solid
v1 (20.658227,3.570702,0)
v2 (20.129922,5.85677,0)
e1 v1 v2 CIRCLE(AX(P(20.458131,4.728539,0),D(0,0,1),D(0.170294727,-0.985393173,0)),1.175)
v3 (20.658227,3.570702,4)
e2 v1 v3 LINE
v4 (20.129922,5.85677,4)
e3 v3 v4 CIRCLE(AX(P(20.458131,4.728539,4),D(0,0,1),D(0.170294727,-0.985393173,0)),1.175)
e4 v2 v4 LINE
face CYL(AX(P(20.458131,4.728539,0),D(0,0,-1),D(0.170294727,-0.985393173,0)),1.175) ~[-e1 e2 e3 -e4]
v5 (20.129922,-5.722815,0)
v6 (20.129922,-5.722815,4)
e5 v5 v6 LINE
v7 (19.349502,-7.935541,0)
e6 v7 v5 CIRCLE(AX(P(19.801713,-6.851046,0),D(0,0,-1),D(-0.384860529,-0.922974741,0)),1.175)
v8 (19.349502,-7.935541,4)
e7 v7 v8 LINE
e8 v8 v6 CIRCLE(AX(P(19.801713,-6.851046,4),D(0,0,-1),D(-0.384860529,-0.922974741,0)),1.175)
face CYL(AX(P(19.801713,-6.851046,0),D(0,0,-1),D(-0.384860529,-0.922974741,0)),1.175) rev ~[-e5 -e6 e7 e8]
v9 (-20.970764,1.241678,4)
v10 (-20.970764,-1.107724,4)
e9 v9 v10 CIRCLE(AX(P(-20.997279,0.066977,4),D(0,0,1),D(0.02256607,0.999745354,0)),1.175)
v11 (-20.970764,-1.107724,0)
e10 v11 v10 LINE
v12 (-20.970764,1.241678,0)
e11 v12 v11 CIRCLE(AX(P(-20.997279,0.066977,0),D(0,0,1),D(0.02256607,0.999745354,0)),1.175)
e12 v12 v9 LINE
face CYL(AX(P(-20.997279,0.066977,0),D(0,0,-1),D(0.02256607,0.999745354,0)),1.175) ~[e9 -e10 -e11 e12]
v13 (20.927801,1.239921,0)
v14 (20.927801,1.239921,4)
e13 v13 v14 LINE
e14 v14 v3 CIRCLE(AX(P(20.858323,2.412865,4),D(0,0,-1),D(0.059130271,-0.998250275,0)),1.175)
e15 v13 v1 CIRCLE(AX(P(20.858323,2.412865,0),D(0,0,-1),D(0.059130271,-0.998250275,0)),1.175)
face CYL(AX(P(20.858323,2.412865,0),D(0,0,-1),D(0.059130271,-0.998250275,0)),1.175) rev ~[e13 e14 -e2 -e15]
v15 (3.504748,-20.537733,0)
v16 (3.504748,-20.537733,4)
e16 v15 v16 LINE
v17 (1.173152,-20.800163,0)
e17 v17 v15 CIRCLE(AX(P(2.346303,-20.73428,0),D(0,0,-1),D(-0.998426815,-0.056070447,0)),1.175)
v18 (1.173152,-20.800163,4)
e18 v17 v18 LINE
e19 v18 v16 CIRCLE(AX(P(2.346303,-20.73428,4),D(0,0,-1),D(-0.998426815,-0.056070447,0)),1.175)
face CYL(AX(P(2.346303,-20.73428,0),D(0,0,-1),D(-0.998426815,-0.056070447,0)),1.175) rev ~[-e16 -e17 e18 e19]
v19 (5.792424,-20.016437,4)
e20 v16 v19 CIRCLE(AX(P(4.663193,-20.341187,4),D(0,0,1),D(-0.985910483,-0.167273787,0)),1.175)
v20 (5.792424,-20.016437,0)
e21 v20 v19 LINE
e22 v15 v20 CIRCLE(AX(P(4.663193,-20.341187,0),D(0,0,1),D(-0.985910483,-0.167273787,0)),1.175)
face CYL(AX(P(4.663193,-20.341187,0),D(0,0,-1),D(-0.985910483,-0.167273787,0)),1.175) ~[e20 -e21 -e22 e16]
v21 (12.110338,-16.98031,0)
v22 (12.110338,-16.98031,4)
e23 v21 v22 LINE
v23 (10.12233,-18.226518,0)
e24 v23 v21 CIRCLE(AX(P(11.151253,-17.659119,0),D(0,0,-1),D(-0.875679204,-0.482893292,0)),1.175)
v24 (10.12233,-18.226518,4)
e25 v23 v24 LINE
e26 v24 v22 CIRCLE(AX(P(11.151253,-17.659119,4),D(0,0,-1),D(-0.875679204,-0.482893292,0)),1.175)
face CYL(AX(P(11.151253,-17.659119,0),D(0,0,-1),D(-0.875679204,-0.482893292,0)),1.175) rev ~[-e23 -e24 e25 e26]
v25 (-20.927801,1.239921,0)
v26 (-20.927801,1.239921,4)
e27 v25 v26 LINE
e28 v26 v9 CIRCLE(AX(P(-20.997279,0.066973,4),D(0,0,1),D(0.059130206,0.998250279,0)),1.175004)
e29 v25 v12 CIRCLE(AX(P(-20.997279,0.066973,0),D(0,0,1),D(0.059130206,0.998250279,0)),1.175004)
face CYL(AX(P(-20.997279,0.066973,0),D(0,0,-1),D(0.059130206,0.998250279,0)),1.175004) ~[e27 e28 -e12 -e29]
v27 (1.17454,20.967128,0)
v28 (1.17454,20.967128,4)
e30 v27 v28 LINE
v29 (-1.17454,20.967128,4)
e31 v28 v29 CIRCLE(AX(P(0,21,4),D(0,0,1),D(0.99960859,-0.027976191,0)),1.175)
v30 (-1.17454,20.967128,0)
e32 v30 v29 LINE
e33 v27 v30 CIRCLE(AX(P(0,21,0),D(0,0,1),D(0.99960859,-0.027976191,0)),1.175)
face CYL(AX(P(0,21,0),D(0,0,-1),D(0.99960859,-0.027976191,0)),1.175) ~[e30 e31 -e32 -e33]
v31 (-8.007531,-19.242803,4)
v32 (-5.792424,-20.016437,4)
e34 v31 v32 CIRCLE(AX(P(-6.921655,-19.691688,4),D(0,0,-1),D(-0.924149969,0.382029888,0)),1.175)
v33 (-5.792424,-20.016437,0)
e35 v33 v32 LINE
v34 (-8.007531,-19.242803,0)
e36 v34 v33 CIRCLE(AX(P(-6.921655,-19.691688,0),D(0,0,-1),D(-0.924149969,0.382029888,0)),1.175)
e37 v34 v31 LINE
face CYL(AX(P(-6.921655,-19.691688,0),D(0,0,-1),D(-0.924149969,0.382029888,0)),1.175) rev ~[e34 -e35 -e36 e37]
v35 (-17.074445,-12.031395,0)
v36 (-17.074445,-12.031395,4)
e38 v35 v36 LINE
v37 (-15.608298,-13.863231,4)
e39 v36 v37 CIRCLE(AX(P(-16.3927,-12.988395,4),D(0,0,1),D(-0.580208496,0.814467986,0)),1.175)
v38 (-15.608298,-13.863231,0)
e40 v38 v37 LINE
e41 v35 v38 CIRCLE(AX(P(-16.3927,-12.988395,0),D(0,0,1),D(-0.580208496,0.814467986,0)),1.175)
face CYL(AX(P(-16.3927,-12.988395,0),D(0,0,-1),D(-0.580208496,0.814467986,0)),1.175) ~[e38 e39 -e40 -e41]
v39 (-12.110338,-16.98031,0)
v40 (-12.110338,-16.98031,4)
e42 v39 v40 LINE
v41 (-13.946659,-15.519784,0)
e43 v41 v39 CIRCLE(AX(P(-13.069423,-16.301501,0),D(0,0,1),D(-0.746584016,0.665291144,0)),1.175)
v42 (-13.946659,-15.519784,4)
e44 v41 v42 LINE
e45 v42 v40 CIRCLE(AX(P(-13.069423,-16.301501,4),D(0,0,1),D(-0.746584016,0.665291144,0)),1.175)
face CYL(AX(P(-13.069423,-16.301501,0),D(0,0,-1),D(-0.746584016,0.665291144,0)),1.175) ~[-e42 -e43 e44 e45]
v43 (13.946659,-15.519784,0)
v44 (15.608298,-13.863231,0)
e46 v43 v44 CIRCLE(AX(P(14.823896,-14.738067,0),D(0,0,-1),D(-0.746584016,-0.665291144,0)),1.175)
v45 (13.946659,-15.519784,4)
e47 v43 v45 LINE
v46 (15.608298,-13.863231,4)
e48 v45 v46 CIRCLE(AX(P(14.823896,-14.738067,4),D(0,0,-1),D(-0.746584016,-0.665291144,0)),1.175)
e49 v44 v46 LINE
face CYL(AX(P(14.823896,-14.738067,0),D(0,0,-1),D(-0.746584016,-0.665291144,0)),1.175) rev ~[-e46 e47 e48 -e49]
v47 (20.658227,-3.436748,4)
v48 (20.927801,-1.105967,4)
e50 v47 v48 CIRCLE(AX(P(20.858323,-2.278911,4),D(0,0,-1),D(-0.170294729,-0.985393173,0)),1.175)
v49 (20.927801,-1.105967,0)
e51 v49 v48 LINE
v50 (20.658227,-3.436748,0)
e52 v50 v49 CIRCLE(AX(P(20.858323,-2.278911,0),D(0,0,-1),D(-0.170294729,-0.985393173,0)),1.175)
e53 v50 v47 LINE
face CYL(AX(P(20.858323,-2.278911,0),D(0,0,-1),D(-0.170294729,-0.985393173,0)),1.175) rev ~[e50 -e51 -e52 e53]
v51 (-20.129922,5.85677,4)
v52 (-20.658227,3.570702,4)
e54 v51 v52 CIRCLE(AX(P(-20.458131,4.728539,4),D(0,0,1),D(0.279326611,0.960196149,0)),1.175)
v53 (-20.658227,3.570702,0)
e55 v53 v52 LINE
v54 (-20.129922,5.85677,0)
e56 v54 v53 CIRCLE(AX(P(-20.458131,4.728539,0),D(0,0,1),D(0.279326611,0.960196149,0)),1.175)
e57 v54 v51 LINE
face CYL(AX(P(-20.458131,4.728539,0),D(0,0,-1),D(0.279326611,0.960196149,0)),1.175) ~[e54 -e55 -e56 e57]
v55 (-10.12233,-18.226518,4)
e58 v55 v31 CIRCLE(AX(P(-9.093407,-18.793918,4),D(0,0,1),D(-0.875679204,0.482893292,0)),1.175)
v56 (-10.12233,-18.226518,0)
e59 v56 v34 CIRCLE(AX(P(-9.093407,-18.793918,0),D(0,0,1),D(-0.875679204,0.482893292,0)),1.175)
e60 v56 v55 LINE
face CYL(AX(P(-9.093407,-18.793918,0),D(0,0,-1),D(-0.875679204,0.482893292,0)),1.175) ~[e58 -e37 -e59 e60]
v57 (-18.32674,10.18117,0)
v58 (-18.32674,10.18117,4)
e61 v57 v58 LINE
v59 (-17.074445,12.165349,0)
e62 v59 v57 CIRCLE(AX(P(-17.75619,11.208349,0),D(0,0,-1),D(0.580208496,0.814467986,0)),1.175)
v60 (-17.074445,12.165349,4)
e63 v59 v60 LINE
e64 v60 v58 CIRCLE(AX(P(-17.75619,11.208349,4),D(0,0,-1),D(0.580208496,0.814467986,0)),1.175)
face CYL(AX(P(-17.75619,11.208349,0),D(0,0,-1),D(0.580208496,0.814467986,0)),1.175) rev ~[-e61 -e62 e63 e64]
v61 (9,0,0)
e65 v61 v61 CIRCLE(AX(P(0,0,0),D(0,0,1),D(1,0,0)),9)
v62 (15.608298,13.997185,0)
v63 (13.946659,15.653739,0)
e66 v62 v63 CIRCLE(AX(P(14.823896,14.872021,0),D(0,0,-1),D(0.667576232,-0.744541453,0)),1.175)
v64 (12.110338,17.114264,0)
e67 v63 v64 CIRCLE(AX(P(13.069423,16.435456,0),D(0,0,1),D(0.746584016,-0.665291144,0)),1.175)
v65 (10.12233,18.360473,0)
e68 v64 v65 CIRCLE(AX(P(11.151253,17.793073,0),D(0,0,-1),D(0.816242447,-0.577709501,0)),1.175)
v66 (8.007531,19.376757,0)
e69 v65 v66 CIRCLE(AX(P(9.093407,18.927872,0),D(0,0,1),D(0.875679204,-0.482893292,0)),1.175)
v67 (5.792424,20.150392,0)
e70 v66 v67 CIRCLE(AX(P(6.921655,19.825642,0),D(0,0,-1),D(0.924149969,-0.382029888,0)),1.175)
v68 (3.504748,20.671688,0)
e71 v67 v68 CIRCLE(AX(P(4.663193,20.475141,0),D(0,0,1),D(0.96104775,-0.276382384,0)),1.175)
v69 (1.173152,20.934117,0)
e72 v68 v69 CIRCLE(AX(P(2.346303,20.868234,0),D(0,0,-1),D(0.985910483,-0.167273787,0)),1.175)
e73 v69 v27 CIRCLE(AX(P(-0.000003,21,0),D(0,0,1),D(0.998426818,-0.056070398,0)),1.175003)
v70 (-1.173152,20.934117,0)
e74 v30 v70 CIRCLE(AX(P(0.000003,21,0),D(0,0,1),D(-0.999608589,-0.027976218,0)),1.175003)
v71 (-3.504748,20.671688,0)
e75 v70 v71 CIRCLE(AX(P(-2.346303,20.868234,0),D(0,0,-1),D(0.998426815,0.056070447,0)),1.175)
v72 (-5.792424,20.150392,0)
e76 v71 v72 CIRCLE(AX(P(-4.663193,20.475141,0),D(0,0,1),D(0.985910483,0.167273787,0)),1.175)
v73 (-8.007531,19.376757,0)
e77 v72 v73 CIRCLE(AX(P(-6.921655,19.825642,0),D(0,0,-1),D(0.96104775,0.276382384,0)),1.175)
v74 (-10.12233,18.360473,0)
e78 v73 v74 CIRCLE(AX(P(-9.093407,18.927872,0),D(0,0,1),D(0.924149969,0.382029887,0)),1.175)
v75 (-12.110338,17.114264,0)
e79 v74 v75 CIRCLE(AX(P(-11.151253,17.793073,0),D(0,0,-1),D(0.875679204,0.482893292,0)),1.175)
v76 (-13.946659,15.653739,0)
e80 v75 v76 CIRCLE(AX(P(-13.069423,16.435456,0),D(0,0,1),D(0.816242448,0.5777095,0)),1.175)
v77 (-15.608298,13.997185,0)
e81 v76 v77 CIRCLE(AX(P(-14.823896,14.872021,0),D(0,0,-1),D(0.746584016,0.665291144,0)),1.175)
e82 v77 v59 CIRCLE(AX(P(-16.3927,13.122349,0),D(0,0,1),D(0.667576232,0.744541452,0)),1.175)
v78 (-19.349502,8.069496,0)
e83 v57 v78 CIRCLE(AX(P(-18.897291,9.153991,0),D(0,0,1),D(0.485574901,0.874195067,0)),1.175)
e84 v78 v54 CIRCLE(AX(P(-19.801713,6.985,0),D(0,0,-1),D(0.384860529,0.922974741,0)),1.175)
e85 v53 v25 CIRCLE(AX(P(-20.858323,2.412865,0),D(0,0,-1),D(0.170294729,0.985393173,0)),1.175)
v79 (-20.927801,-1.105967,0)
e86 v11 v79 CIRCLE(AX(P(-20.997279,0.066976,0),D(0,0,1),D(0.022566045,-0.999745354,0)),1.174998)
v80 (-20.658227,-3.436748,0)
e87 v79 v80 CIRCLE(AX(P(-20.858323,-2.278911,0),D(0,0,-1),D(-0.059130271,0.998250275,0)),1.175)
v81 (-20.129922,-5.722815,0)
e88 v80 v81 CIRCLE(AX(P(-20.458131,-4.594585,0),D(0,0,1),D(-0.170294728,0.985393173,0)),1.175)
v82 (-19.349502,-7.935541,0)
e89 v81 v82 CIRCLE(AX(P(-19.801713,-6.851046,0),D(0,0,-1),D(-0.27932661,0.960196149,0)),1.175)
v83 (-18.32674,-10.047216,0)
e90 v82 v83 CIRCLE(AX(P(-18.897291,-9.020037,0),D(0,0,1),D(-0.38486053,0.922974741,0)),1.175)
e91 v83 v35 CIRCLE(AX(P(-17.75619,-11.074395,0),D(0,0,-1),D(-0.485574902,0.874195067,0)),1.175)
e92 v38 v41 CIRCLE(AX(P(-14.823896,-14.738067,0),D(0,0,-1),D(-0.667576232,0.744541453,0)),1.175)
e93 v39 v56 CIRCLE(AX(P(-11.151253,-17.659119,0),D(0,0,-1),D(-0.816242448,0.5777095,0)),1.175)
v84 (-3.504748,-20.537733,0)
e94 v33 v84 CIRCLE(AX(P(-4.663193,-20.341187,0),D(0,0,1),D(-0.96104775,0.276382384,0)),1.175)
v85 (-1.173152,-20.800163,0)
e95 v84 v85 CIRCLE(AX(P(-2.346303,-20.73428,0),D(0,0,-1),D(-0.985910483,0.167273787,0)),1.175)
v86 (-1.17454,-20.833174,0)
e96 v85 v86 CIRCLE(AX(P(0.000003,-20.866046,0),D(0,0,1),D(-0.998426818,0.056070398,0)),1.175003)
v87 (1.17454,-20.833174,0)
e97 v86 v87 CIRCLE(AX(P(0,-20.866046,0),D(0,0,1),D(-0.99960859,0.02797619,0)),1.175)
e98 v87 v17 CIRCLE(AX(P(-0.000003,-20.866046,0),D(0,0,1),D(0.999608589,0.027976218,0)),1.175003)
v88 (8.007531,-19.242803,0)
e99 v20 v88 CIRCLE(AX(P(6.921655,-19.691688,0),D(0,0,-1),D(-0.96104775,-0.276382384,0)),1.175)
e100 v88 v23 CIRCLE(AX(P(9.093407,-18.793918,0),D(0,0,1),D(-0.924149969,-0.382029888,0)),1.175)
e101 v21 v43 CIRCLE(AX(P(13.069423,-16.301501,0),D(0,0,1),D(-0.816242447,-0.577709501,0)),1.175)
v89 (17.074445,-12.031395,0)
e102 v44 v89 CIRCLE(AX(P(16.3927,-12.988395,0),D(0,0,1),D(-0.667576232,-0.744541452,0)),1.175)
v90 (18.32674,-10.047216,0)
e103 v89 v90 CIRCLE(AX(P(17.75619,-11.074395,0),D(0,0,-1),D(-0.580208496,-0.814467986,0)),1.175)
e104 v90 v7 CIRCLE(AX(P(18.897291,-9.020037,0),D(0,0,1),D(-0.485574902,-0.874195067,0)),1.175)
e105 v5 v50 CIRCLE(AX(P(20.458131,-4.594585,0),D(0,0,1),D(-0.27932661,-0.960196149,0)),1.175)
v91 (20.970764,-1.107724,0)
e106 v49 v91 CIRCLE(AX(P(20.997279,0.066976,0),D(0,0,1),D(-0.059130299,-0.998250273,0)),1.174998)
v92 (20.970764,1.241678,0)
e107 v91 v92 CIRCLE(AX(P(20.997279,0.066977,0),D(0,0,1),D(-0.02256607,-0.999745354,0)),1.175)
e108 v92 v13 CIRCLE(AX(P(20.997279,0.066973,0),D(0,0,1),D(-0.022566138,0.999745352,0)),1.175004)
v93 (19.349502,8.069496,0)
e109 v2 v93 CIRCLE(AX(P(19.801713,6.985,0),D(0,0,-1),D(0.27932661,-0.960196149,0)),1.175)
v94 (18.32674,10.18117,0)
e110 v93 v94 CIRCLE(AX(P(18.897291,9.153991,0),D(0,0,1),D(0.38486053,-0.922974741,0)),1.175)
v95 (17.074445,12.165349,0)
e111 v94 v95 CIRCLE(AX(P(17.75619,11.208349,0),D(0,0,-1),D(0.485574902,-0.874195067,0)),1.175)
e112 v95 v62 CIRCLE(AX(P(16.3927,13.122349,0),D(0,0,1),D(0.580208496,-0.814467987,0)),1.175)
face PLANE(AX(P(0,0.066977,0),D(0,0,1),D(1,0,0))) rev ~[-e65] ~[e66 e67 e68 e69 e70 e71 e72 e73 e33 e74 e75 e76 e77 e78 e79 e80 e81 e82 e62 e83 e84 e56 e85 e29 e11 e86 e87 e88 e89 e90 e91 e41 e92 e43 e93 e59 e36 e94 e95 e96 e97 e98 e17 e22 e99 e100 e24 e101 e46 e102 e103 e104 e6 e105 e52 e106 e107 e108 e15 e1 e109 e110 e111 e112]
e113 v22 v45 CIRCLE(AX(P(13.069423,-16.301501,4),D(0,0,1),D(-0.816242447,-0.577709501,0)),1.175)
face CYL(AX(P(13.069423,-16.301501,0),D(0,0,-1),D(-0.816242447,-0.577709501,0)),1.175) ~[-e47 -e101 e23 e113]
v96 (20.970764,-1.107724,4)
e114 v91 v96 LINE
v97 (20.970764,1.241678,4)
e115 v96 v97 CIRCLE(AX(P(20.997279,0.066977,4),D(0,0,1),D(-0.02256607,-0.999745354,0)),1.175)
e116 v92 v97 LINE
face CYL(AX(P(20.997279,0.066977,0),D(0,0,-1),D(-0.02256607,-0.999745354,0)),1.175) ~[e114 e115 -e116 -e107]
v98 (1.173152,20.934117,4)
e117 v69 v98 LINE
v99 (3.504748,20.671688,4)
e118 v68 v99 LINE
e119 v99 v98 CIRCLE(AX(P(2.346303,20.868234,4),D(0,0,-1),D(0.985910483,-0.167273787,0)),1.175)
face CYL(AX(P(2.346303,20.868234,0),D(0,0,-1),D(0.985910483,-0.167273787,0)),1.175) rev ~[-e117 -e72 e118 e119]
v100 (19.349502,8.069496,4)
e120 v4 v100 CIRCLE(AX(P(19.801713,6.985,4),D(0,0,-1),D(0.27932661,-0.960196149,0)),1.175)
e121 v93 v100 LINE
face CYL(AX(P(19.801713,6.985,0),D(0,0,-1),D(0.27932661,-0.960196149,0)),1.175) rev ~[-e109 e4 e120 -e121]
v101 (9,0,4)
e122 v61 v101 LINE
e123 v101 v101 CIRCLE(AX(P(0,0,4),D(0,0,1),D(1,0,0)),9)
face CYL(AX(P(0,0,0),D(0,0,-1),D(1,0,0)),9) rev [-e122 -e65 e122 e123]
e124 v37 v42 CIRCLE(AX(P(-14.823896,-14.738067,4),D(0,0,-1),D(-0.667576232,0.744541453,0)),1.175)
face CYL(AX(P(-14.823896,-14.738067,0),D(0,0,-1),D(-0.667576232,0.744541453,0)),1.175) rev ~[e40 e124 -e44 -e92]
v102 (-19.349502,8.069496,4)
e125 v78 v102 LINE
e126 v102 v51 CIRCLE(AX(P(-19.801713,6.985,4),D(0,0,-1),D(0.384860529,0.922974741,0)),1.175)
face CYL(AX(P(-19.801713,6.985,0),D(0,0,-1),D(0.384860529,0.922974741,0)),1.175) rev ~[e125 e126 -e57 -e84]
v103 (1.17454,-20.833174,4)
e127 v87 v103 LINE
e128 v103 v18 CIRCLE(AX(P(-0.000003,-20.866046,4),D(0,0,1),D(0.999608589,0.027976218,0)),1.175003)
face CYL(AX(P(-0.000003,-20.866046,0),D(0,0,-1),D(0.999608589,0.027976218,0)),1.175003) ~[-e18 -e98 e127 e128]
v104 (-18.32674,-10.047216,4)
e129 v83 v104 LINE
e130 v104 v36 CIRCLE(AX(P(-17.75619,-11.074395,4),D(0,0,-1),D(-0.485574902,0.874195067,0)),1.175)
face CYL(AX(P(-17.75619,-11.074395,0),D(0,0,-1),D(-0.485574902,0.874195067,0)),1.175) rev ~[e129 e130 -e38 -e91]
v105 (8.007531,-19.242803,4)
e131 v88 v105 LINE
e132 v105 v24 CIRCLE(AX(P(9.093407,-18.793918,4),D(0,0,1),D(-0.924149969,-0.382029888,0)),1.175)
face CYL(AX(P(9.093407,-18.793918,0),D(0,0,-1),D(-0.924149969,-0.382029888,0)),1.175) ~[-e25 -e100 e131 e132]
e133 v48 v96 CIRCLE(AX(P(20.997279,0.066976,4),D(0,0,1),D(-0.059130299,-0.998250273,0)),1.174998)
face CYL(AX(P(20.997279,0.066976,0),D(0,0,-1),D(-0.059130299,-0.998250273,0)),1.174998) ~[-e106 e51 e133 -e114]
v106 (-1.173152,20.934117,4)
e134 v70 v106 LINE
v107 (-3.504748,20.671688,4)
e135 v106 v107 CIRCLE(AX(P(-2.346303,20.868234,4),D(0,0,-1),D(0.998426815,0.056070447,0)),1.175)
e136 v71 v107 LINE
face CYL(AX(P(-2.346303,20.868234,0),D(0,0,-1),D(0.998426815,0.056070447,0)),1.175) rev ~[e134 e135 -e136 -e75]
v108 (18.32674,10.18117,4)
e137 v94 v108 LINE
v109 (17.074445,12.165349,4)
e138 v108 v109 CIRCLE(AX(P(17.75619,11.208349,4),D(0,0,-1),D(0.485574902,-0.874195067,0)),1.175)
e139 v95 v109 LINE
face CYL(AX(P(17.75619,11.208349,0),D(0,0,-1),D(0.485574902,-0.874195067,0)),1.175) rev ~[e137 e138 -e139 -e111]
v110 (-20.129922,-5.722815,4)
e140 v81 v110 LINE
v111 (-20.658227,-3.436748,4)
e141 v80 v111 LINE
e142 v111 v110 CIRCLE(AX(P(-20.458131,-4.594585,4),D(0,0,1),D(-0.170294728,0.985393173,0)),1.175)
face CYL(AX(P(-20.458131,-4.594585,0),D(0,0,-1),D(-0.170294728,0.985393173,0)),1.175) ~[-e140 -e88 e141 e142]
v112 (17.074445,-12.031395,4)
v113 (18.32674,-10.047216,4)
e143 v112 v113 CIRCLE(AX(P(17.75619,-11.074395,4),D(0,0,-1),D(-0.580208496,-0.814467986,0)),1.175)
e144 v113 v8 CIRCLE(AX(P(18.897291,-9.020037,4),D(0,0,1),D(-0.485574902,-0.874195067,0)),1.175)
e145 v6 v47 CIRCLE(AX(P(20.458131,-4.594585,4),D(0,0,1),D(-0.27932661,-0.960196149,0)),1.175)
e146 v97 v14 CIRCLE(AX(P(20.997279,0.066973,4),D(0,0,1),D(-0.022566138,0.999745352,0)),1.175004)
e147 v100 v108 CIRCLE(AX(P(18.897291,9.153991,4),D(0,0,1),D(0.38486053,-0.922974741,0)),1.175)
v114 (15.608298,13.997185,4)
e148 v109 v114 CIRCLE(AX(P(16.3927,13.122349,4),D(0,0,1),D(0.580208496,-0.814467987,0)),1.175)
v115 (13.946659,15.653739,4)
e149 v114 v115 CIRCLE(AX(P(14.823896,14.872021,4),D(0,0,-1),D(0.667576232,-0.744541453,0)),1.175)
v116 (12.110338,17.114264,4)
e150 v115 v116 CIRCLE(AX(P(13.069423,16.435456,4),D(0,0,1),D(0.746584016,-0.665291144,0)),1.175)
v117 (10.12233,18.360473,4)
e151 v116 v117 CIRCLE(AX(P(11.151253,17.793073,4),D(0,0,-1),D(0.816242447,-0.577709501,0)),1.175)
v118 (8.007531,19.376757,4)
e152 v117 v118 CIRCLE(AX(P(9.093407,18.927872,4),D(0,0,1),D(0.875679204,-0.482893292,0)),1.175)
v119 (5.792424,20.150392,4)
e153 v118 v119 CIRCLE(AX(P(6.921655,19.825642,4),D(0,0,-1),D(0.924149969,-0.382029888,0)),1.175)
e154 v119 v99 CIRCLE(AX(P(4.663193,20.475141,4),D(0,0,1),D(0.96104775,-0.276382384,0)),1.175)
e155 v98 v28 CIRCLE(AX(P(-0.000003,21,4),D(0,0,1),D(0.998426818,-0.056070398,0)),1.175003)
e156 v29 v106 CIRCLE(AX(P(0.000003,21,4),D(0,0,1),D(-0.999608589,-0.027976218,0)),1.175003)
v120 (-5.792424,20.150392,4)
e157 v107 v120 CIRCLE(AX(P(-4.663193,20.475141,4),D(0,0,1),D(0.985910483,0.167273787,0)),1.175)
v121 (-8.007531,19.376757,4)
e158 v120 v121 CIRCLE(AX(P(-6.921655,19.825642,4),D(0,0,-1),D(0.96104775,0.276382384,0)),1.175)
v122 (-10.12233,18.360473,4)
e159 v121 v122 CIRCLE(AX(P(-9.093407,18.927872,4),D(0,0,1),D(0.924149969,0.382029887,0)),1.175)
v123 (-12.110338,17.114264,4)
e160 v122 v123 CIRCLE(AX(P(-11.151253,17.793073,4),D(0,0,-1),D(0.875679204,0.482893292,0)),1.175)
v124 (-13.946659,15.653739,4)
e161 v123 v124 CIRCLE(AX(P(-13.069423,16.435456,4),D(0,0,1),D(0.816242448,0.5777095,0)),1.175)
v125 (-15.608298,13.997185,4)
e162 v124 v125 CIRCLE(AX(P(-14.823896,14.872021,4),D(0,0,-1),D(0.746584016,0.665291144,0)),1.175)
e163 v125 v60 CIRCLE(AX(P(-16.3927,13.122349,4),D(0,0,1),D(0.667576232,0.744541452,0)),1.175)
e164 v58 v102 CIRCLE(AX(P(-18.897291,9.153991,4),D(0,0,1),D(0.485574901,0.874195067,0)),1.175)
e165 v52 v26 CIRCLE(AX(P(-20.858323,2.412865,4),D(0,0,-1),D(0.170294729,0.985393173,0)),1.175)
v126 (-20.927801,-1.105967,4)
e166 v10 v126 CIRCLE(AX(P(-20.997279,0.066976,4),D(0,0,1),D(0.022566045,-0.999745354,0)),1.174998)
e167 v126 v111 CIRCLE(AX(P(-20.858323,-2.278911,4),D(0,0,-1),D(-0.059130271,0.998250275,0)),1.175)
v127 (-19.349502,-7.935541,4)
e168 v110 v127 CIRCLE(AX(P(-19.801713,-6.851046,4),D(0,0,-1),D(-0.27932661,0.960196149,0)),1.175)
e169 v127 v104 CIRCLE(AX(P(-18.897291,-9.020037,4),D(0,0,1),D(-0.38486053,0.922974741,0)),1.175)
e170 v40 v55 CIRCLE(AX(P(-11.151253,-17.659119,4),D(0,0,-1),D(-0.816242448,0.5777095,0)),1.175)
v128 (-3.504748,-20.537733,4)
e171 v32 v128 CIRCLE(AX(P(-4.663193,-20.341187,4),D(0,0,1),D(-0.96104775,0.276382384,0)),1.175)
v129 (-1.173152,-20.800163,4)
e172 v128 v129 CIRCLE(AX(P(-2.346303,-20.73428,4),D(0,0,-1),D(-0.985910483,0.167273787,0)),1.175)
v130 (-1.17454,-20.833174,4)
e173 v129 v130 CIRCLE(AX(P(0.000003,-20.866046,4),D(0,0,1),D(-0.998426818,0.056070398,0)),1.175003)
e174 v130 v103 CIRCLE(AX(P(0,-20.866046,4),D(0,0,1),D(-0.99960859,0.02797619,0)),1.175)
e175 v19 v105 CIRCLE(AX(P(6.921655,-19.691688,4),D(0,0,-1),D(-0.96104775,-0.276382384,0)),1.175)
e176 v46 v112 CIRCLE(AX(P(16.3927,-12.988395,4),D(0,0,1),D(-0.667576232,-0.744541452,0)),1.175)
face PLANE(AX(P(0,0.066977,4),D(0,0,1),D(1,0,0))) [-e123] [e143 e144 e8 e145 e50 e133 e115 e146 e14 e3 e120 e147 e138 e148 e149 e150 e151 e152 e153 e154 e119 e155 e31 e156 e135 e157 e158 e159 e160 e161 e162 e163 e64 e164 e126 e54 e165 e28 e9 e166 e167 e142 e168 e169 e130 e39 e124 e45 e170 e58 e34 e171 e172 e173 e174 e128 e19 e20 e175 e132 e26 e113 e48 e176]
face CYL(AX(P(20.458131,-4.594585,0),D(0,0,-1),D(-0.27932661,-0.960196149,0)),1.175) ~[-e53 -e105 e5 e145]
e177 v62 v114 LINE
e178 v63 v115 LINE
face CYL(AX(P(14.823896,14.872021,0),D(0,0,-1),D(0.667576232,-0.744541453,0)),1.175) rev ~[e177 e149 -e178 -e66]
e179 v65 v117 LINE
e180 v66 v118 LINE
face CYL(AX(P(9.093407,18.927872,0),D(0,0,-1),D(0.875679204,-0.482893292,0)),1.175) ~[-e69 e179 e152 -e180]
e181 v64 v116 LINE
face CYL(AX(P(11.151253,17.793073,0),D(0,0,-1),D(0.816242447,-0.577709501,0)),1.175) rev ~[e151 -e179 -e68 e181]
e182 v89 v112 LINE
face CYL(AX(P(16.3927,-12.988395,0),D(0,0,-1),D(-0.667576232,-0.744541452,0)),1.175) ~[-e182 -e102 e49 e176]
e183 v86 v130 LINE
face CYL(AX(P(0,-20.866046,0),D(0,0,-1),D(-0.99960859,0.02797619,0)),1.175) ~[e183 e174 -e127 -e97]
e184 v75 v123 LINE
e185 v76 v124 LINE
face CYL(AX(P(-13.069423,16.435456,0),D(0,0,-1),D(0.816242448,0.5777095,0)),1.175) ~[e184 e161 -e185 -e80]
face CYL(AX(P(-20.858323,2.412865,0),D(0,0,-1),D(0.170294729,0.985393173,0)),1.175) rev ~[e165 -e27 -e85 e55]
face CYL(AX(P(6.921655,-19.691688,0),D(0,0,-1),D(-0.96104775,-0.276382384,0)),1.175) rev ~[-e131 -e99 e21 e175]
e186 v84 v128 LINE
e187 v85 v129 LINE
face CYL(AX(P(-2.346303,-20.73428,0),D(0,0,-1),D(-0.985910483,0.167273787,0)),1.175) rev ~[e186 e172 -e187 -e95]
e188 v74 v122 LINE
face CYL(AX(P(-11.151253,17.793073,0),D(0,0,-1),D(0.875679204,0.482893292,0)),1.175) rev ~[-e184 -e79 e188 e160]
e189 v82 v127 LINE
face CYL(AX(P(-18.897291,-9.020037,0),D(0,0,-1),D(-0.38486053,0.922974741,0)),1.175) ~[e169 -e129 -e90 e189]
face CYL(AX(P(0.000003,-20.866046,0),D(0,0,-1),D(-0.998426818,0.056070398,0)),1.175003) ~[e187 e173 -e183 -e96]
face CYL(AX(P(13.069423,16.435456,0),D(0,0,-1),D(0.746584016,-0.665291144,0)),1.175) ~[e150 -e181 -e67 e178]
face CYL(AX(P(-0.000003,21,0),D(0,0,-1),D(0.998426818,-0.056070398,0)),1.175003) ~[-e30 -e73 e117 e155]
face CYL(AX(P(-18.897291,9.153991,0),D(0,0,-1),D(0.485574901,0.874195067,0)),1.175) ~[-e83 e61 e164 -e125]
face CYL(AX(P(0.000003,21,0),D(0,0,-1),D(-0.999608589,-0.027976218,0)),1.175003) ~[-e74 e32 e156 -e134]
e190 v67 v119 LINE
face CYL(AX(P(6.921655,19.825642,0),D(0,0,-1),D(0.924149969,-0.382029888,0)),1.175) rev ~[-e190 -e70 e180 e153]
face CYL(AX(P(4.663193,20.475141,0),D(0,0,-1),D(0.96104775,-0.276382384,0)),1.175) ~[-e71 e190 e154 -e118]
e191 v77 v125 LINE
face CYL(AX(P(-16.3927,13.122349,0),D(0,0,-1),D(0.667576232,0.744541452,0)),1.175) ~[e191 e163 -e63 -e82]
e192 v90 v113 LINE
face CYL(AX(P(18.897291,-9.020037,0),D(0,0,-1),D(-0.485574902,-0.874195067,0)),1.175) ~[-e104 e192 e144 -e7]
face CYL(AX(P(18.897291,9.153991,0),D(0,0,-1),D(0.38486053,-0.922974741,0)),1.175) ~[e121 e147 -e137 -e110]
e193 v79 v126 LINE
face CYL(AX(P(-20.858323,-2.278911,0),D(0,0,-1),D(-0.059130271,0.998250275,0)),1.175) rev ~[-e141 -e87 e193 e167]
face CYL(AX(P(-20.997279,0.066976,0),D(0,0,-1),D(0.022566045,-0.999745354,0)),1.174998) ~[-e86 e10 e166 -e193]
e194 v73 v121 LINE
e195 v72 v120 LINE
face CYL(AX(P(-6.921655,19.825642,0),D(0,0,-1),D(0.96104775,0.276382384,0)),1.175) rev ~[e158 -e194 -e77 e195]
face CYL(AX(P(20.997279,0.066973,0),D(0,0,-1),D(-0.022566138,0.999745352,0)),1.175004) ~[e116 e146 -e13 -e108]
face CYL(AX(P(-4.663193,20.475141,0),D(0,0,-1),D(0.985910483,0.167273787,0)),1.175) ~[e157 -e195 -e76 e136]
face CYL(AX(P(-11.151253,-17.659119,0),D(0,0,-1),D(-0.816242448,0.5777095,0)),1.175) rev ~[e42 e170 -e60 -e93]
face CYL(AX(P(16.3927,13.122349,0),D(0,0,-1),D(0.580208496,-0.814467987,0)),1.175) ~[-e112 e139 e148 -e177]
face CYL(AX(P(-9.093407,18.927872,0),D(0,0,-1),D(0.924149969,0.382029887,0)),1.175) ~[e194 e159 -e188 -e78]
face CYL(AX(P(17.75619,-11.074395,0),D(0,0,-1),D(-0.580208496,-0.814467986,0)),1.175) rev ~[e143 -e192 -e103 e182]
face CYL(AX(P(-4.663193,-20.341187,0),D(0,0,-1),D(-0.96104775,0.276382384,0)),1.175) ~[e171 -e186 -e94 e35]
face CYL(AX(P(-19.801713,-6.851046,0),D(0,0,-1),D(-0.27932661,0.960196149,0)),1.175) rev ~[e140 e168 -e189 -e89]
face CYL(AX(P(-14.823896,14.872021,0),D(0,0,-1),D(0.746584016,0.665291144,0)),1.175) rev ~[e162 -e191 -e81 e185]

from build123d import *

# Parameters (mm, degrees)
SKETCH1_R           = 9
BOSS_EXTRUDE1_DEPTH = 4


with BuildPart() as part:
    # Sketch1 → Boss-Extrude1 (new body)
    with BuildSketch(Plane.XY):
        with BuildLine():
            ThreePointArc((3.504747833, 20.671687749), (2.214882396, 19.700607102), (1.173151508, 20.934117224))
            ThreePointArc((1.173151508, 20.934117224), (1.173961835, 20.950617719), (1.174540093, 20.967127976))
            ThreePointArc((1.174540093, 20.967127976), (0, 22.175), (-1.174540093, 20.967127976))
            ThreePointArc((-1.174540093, 20.967127976), (-1.173961835, 20.950617719), (-1.173151508, 20.934117224))
            ThreePointArc((-1.173151508, 20.934117224), (-2.214882396, 19.700607102), (-3.504747833, 20.671687749))
            ThreePointArc((-3.504747833, 20.671687749), (-4.924249618, 21.620773739), (-5.792423756, 20.150391748))
            ThreePointArc((-5.792423756, 20.150391748), (-6.534230721, 18.716350991), (-8.007531076, 19.376757329))
            ThreePointArc((-8.007531076, 19.376757329), (-9.602346953, 19.986930953), (-10.122330354, 18.360472593))
            ThreePointArc((-10.122330354, 18.360472593), (-10.527171603, 16.797509372), (-12.110338295, 17.114264311))
            ThreePointArc((-12.110338295, 17.114264311), (-13.800831861, 17.355056827), (-13.94665939, 15.653738554))
            ThreePointArc((-13.94665939, 15.653738554), (-13.994319359, 14.039898725), (-15.608297681, 13.997185253))
            ThreePointArc((-15.608297681, 13.997185253), (-17.310054912, 13.856572796), (-17.074444737, 12.165349162))
            ThreePointArc((-17.074444737, 12.165349162), (-16.762543548, 10.581219081), (-18.32674023, 10.181170075))
            ThreePointArc((-18.32674023, 10.181170075), (-19.954784653, 9.666174064), (-19.349501862, 8.06949555))
            ThreePointArc((-19.349501862, 8.06949555), (-18.693614158, 6.59417803), (-20.129921751, 5.856769754))
            ThreePointArc((-20.129921751, 5.856769754), (-21.602957711, 4.993106281), (-20.658226823, 3.570702301))
            ThreePointArc((-20.658226823, 3.570702301), (-19.691104059, 2.277866648), (-20.927801198, 1.23992125))
            ThreePointArc((-20.927801198, 1.23992125), (-20.94927463, 1.240996152), (-20.970764135, 1.241677968))
            ThreePointArc((-20.970764135, 1.241677968), (-22.172279268, 0.066977177), (-20.970764135, -1.107723614))
            ThreePointArc((-20.970764135, -1.107723614), (-20.94927463, -1.107041799), (-20.927801198, -1.105966896))
            ThreePointArc((-20.927801198, -1.105966896), (-19.691104059, -2.143912295), (-20.658226823, -3.436747947))
            ThreePointArc((-20.658226823, -3.436747947), (-21.602957711, -4.859151928), (-20.129921751, -5.722815401))
            ThreePointArc((-20.129921751, -5.722815401), (-18.693614158, -6.460223676), (-19.349501862, -7.935541197))
            ThreePointArc((-19.349501862, -7.935541197), (-19.954784653, -9.532219711), (-18.32674023, -10.047215721))
            ThreePointArc((-18.32674023, -10.047215721), (-16.762543548, -10.447264727), (-17.074444737, -12.031394809))
            ThreePointArc((-17.074444737, -12.031394809), (-17.310054912, -13.722618442), (-15.608297681, -13.863230899))
            ThreePointArc((-15.608297681, -13.863230899), (-13.994319359, -13.905944371), (-13.94665939, -15.5197842))
            ThreePointArc((-13.94665939, -15.5197842), (-13.800831861, -17.221102473), (-12.110338295, -16.980309958))
            ThreePointArc((-12.110338295, -16.980309958), (-10.527171603, -16.663555018), (-10.122330354, -18.226518239))
            ThreePointArc((-10.122330354, -18.226518239), (-9.602346953, -19.852976599), (-8.007531076, -19.242802976))
            ThreePointArc((-8.007531076, -19.242802976), (-6.534230721, -18.582396638), (-5.792423756, -20.016437395))
            ThreePointArc((-5.792423756, -20.016437395), (-4.924249618, -21.486819385), (-3.504747833, -20.537733396))
            ThreePointArc((-3.504747833, -20.537733396), (-2.214882396, -19.566652749), (-1.173151508, -20.800162871))
            ThreePointArc((-1.173151508, -20.800162871), (-1.173961835, -20.816663366), (-1.174540093, -20.833173623))
            ThreePointArc((-1.174540093, -20.833173623), (0, -22.041045646), (1.174540093, -20.833173623))
            ThreePointArc((1.174540093, -20.833173623), (1.173961835, -20.816663366), (1.173151508, -20.800162871))
            ThreePointArc((1.173151508, -20.800162871), (2.214882396, -19.566652749), (3.504747833, -20.537733396))
            ThreePointArc((3.504747833, -20.537733396), (4.924249618, -21.486819385), (5.792423756, -20.016437395))
            ThreePointArc((5.792423756, -20.016437395), (6.534230721, -18.582396638), (8.007531076, -19.242802976))
            ThreePointArc((8.007531076, -19.242802976), (9.602346953, -19.852976599), (10.122330354, -18.226518239))
            ThreePointArc((10.122330354, -18.226518239), (10.527171603, -16.663555018), (12.110338295, -16.980309958))
            ThreePointArc((12.110338295, -16.980309958), (13.800831861, -17.221102473), (13.94665939, -15.5197842))
            ThreePointArc((13.94665939, -15.5197842), (13.994319359, -13.905944371), (15.608297681, -13.863230899))
            ThreePointArc((15.608297681, -13.863230899), (17.310054912, -13.722618442), (17.074444737, -12.031394809))
            ThreePointArc((17.074444737, -12.031394809), (16.762543548, -10.447264727), (18.32674023, -10.047215721))
            ThreePointArc((18.32674023, -10.047215721), (19.954784653, -9.532219711), (19.349501862, -7.935541197))
            ThreePointArc((19.349501862, -7.935541197), (18.693614158, -6.460223676), (20.129921751, -5.722815401))
            ThreePointArc((20.129921751, -5.722815401), (21.602957711, -4.859151928), (20.658226823, -3.436747947))
            ThreePointArc((20.658226823, -3.436747947), (19.691104059, -2.143912295), (20.927801198, -1.105966896))
            ThreePointArc((20.927801198, -1.105966896), (20.94927463, -1.107041799), (20.970764135, -1.107723614))
            ThreePointArc((20.970764135, -1.107723614), (22.172279268, 0.066977177), (20.970764135, 1.241677968))
            ThreePointArc((20.970764135, 1.241677968), (20.94927463, 1.240996152), (20.927801198, 1.23992125))
            ThreePointArc((20.927801198, 1.23992125), (19.691104059, 2.277866648), (20.658226823, 3.570702301))
            ThreePointArc((20.658226823, 3.570702301), (21.602957711, 4.993106281), (20.129921751, 5.856769754))
            ThreePointArc((20.129921751, 5.856769754), (18.693614158, 6.59417803), (19.349501862, 8.06949555))
            ThreePointArc((19.349501862, 8.06949555), (19.954784653, 9.666174064), (18.32674023, 10.181170075))
            ThreePointArc((18.32674023, 10.181170075), (16.762543548, 10.581219081), (17.074444737, 12.165349162))
            ThreePointArc((17.074444737, 12.165349162), (17.310054912, 13.856572796), (15.608297681, 13.997185253))
            ThreePointArc((15.608297681, 13.997185253), (13.994319359, 14.039898725), (13.94665939, 15.653738554))
            ThreePointArc((13.94665939, 15.653738554), (13.800831861, 17.355056827), (12.110338295, 17.114264311))
            ThreePointArc((12.110338295, 17.114264311), (10.527171603, 16.797509372), (10.122330354, 18.360472593))
            ThreePointArc((10.122330354, 18.360472593), (9.602346953, 19.986930953), (8.007531076, 19.376757329))
            ThreePointArc((8.007531076, 19.376757329), (6.534230721, 18.716350991), (5.792423756, 20.150391748))
            ThreePointArc((5.792423756, 20.150391748), (4.924249618, 21.620773739), (3.504747833, 20.671687749))
        make_face()
        Circle(SKETCH1_R, mode=Mode.SUBTRACT)
    extrude(amount=BOSS_EXTRUDE1_DEPTH)


solid = part.part
